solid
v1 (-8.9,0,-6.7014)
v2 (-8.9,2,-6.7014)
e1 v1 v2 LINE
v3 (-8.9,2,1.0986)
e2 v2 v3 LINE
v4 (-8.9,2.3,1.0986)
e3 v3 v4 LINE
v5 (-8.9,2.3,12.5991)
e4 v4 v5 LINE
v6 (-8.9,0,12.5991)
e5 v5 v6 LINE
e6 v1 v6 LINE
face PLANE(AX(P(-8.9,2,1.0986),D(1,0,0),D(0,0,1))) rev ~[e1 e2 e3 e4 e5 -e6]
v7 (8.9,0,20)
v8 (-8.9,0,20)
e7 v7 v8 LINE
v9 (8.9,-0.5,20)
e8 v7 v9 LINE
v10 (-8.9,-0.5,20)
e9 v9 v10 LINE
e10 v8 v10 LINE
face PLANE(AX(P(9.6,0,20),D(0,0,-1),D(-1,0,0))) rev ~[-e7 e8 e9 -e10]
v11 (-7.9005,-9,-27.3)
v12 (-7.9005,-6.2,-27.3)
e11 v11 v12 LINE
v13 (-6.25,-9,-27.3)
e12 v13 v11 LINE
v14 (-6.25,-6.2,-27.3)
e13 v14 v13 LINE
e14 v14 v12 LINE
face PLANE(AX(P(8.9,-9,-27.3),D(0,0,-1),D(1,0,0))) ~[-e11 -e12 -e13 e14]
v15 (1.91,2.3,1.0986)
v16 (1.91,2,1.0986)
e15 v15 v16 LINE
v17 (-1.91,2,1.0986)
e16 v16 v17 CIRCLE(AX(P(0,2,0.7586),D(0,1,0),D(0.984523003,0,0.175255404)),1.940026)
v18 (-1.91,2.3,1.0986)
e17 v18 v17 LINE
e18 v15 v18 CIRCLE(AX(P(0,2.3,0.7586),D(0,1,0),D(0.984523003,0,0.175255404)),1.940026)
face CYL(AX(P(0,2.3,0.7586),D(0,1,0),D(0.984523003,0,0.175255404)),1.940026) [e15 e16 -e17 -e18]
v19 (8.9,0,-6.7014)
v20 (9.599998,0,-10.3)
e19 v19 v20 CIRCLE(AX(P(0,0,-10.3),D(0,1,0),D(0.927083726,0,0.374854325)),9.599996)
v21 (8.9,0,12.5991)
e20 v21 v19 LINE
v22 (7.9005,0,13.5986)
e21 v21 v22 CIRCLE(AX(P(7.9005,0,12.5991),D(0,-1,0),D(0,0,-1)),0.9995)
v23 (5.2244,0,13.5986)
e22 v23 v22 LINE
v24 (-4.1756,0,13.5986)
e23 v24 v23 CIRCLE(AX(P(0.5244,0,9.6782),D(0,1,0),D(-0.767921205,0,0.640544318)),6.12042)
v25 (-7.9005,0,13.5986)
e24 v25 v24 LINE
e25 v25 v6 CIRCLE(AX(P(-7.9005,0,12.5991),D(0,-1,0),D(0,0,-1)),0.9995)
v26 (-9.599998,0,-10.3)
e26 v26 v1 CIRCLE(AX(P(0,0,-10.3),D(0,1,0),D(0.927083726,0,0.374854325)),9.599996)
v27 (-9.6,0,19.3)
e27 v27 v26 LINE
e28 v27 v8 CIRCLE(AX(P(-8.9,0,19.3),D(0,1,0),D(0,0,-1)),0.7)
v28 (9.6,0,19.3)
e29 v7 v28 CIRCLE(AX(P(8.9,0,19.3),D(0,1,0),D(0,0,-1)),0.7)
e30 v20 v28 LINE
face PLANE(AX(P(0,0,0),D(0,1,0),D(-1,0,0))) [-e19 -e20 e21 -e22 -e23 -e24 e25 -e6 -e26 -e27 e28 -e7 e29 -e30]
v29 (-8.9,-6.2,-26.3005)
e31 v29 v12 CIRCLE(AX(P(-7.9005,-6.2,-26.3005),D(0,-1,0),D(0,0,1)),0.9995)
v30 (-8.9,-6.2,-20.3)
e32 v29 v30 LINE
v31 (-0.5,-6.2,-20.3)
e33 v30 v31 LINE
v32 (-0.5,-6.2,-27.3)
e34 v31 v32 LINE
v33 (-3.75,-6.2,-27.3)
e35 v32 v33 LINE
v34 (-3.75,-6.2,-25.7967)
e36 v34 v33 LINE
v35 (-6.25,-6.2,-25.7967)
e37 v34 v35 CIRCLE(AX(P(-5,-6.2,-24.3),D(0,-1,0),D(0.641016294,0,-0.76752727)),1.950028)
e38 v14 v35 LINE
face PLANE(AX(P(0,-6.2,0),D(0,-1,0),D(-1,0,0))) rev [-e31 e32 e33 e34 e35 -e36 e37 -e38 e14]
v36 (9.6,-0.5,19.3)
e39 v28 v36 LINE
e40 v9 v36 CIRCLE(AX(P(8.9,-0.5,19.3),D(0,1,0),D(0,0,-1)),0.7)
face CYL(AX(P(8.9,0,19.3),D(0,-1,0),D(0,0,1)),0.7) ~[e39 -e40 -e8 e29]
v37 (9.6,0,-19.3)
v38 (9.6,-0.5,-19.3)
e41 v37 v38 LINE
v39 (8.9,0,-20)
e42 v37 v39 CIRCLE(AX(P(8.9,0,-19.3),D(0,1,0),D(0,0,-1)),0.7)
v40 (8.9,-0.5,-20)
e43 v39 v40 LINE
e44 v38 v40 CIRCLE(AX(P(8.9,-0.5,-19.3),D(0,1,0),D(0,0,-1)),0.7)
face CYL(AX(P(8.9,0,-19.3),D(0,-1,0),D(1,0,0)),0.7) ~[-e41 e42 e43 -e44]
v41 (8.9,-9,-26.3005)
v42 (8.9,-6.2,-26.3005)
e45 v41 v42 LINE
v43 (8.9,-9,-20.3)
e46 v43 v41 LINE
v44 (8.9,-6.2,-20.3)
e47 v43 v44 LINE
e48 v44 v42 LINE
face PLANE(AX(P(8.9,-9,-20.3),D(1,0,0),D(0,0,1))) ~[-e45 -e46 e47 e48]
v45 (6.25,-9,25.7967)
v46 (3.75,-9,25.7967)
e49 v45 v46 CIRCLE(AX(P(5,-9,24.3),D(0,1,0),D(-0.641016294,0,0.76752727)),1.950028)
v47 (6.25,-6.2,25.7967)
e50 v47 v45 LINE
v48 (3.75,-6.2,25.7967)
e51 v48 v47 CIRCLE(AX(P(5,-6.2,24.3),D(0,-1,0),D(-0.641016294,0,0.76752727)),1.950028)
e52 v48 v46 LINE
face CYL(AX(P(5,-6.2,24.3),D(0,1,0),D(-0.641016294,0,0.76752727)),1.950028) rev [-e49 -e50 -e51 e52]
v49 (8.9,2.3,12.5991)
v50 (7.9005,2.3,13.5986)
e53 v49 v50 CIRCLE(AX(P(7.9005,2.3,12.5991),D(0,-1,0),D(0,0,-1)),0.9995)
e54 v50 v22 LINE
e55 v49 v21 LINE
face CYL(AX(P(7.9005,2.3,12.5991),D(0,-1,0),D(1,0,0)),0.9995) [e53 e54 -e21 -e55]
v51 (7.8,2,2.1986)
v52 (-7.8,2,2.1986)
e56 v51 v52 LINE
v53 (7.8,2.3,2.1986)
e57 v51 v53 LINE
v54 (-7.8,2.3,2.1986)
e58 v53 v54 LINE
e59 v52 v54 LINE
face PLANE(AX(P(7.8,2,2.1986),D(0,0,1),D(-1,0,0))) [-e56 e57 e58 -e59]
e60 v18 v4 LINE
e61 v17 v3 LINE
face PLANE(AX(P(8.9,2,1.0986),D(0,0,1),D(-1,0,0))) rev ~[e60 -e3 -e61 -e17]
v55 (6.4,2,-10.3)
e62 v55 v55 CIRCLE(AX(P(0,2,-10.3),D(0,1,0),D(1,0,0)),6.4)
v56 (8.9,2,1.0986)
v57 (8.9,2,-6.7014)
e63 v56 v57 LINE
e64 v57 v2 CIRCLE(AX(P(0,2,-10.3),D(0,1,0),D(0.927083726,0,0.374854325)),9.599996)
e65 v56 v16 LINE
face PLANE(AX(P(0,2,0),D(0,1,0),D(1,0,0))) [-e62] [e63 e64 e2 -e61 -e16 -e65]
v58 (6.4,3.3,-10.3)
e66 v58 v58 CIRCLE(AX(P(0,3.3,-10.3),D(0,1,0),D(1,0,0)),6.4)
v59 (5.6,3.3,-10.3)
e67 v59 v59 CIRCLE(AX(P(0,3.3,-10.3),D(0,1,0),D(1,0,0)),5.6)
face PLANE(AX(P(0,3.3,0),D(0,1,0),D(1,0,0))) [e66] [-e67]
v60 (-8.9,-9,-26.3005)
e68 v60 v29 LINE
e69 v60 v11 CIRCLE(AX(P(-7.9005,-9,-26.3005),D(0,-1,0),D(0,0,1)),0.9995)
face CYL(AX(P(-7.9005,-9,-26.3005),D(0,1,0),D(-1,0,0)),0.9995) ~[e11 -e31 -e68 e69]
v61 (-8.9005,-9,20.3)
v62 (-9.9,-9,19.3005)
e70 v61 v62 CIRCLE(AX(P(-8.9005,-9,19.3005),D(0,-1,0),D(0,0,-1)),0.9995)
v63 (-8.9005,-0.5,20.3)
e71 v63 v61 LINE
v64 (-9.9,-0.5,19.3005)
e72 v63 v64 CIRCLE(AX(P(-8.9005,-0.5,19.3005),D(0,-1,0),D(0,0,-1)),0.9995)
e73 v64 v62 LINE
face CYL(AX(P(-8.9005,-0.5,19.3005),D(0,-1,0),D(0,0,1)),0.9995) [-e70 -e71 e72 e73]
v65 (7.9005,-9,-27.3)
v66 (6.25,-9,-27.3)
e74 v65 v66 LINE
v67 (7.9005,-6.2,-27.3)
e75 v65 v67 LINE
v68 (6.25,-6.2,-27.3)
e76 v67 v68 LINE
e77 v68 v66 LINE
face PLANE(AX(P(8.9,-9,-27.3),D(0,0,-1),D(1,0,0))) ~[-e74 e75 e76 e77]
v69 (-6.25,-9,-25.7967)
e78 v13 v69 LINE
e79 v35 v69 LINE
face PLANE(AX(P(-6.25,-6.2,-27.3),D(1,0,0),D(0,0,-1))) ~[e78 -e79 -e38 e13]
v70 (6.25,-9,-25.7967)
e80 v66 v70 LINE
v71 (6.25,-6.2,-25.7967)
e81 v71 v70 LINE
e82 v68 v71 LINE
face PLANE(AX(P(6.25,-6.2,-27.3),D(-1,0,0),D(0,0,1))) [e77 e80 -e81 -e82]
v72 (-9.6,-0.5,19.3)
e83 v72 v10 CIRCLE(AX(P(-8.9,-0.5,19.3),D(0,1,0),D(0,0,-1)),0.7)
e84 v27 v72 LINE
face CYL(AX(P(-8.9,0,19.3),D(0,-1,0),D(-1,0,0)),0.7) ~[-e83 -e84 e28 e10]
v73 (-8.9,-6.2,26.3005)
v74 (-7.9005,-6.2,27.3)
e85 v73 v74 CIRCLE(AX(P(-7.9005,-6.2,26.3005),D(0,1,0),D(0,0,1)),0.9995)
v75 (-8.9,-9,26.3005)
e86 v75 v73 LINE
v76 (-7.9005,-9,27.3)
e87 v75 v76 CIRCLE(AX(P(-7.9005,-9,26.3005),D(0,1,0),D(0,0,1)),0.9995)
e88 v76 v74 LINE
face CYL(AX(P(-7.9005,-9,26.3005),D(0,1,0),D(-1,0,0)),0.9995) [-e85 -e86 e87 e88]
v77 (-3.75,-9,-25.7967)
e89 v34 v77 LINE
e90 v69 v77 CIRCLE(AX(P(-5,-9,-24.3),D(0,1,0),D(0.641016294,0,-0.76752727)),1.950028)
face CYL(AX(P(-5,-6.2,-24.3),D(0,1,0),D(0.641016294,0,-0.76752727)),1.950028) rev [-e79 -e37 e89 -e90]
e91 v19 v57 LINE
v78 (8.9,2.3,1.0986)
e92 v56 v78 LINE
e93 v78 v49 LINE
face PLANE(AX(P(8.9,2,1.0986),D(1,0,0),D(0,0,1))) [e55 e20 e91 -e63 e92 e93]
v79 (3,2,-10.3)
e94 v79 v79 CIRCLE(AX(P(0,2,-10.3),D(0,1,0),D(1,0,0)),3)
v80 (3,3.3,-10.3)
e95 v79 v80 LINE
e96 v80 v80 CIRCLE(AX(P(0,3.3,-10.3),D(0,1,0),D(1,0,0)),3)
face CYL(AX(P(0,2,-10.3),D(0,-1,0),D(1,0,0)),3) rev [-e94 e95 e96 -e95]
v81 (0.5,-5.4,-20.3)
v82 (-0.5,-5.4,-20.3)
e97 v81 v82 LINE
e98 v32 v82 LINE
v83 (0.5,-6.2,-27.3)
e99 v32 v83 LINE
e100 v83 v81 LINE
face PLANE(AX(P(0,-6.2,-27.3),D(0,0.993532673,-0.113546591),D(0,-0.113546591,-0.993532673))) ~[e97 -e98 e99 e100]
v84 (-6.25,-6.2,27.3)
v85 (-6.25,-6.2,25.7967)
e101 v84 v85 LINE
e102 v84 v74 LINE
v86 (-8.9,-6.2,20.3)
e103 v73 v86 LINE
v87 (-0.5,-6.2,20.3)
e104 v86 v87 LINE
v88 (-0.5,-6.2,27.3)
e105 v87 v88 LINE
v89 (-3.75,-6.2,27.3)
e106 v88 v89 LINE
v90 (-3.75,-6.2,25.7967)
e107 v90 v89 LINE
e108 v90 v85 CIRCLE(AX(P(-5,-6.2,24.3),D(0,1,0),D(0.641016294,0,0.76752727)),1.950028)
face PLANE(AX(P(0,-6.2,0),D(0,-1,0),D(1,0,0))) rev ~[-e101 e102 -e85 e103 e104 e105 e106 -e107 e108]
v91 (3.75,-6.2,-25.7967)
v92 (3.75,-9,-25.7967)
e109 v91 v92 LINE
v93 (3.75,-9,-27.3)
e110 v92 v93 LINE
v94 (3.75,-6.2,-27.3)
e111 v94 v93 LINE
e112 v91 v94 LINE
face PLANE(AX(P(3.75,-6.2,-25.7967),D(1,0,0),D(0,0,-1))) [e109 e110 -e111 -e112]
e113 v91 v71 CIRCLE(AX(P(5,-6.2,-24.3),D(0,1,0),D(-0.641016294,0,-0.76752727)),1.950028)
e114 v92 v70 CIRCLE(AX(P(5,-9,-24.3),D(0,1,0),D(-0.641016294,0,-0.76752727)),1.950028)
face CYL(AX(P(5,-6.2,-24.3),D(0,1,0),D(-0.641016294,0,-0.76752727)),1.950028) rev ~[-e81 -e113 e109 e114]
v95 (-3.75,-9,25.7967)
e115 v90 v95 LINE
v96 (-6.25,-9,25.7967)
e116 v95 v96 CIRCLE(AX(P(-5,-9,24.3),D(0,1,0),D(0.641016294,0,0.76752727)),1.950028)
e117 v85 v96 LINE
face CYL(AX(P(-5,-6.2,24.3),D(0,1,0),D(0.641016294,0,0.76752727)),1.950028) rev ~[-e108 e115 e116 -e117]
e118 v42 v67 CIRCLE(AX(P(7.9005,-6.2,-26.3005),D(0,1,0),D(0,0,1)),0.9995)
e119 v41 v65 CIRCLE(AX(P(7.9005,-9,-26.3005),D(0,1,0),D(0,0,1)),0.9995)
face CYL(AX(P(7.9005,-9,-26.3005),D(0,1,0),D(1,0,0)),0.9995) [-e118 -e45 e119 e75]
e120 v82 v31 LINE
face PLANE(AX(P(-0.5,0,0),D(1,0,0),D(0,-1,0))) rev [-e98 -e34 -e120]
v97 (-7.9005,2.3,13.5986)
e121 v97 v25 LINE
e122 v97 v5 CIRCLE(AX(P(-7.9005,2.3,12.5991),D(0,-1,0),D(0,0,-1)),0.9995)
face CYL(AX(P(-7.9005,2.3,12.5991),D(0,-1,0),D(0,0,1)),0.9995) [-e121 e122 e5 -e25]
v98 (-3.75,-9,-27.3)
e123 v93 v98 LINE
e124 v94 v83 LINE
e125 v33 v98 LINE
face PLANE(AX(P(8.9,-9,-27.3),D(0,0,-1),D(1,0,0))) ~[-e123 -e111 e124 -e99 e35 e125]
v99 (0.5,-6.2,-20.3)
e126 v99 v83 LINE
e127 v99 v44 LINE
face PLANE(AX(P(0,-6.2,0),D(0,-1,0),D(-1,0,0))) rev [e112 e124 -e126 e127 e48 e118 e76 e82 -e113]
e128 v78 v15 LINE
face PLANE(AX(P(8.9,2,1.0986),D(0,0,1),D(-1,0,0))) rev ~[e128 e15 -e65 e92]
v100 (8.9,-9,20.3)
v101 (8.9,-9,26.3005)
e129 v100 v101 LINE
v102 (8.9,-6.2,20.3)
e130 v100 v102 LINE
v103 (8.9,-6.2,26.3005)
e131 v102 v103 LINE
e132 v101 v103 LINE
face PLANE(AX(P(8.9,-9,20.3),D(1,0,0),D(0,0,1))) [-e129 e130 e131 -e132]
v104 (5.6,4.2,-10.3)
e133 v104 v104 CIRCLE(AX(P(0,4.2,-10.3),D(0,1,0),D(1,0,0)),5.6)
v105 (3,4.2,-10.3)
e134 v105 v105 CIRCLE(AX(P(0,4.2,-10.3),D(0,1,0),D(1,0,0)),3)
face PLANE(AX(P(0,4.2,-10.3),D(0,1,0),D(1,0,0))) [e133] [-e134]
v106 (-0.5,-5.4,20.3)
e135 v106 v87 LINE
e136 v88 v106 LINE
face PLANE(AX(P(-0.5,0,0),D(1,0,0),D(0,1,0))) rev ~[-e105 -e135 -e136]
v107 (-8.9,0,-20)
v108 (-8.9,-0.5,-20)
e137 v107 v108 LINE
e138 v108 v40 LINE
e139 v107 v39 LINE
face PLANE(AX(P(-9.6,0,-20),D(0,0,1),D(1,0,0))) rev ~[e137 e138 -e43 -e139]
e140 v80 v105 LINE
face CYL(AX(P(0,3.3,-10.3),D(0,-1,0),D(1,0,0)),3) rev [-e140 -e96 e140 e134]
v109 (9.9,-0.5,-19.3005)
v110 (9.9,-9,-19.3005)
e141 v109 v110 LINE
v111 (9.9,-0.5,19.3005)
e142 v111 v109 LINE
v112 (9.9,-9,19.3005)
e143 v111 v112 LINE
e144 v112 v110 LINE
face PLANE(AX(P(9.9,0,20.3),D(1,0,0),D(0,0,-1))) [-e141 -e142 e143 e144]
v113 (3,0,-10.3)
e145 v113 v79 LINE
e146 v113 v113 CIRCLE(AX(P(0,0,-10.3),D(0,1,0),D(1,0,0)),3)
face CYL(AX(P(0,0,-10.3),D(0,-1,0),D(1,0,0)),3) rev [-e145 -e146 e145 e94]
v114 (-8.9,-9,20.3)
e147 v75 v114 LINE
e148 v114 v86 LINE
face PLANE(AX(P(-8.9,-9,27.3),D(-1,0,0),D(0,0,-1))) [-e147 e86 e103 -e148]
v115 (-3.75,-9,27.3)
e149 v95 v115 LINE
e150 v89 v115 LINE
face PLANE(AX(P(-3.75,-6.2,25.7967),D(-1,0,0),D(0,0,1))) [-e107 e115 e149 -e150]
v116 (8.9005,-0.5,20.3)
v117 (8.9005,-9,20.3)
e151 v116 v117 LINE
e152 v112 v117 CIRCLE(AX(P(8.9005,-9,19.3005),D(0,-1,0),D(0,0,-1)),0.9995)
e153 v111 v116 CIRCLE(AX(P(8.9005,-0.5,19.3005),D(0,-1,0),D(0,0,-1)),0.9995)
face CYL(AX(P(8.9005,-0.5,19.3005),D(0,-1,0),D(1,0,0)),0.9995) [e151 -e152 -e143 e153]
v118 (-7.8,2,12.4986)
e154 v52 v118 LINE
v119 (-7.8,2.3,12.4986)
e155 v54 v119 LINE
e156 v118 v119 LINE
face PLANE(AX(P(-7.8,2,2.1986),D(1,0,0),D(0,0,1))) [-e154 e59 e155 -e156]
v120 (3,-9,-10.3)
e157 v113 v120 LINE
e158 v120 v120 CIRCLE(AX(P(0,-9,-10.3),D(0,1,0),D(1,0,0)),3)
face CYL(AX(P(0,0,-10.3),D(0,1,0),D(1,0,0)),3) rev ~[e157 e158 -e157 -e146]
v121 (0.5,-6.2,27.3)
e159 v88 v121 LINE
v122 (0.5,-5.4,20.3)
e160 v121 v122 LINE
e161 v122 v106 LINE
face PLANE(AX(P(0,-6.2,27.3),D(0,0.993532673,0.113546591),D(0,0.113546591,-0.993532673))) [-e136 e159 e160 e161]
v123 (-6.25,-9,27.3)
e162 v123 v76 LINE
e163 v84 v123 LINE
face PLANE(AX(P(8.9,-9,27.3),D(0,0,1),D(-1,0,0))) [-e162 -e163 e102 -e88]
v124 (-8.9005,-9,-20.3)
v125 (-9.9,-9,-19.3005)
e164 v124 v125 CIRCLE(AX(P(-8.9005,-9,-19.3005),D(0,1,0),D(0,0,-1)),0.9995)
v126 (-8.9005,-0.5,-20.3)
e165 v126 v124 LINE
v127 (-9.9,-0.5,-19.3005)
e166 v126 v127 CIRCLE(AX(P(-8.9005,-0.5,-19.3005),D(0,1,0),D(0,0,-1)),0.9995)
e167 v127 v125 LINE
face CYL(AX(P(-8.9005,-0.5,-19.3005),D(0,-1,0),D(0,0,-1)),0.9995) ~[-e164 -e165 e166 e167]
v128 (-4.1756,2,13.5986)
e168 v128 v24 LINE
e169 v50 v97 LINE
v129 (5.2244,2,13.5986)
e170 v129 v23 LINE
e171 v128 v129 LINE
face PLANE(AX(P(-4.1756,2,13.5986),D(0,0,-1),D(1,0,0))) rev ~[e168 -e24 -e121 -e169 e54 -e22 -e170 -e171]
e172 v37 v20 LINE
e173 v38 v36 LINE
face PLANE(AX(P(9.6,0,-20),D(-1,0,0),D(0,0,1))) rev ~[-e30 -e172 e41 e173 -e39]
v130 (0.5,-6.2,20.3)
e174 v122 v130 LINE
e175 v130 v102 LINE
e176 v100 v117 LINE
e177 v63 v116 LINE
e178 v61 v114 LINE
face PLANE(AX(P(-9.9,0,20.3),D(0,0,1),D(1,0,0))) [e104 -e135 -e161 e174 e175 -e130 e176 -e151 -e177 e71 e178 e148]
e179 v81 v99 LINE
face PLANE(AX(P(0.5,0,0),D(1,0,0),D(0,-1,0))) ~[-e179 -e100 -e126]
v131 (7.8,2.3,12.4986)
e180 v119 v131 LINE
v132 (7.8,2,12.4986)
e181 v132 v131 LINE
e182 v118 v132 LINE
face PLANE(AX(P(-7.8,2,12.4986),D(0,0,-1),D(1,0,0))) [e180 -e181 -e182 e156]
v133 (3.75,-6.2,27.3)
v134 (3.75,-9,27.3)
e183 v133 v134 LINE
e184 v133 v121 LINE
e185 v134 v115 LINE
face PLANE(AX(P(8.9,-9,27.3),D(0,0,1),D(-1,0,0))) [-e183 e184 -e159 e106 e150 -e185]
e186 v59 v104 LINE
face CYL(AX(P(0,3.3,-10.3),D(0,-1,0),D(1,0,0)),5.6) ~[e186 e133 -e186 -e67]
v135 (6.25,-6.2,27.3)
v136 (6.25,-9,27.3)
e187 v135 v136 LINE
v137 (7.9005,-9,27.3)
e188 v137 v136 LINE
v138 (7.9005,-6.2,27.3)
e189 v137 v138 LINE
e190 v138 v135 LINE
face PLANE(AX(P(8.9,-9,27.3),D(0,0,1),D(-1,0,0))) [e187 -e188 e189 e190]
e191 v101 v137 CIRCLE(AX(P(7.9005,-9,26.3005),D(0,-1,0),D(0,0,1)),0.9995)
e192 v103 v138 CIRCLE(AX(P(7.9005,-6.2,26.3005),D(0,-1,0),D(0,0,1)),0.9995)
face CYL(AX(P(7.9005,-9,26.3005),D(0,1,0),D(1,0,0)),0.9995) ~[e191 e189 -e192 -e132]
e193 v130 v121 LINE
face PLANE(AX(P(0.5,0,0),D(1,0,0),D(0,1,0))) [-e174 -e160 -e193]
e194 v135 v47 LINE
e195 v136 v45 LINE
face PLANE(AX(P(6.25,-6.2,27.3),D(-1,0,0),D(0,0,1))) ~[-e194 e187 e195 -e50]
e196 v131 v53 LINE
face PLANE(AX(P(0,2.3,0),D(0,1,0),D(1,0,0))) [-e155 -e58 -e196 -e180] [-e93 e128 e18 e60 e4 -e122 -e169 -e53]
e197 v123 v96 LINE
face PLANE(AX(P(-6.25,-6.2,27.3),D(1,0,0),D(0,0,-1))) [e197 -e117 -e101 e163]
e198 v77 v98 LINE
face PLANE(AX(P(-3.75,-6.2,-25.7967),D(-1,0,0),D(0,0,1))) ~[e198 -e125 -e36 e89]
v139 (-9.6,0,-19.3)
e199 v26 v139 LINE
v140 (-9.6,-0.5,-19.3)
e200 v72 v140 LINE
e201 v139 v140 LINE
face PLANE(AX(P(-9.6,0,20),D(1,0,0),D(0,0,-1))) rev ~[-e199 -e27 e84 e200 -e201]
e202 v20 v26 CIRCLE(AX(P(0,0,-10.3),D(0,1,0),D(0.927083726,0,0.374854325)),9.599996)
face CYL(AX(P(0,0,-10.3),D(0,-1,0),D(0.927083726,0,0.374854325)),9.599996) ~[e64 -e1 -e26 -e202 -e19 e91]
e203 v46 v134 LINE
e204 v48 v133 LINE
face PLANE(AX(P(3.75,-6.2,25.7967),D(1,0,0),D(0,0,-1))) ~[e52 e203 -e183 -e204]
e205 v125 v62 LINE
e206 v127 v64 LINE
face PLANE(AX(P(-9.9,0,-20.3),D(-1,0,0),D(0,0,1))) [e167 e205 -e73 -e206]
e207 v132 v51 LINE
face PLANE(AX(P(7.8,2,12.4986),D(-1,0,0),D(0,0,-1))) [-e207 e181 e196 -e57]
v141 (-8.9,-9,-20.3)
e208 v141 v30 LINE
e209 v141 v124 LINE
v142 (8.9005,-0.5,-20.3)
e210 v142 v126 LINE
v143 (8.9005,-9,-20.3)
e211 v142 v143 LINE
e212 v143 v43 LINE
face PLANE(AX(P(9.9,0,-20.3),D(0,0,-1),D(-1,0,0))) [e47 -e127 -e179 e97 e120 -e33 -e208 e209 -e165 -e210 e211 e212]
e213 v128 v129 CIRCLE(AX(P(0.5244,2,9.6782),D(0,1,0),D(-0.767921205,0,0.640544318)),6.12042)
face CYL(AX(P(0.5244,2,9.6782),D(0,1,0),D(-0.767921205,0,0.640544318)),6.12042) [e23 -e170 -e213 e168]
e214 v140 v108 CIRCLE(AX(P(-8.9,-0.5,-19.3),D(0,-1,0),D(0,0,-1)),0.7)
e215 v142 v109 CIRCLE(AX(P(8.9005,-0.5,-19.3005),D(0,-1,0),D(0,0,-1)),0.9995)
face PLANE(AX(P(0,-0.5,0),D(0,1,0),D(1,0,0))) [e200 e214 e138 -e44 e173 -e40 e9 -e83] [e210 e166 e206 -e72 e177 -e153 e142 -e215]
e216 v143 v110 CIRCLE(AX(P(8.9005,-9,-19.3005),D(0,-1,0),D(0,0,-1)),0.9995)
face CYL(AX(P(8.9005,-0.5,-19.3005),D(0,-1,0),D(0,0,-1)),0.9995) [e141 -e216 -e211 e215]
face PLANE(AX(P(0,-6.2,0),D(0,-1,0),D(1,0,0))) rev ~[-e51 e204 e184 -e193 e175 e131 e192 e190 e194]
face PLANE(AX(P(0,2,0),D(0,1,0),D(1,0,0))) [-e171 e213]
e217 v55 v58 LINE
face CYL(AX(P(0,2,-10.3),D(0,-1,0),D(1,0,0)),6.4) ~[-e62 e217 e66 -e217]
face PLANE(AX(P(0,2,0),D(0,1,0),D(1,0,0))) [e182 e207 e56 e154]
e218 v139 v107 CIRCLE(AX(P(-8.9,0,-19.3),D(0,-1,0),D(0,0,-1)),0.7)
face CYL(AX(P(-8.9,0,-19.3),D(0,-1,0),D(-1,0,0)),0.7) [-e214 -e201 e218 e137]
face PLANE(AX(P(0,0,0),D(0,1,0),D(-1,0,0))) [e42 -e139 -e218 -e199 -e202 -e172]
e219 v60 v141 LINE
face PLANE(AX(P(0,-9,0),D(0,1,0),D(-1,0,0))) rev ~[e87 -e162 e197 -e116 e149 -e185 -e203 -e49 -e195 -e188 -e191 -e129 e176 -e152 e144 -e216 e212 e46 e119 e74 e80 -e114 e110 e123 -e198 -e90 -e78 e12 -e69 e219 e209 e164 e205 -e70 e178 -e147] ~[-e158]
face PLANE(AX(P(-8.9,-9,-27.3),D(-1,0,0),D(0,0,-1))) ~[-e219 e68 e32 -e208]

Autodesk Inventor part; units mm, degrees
ref_plane "YZ Plane" through (0, 0, 0) normal (1, 0, 0) x (0, 1, 0)
ref_plane "XZ Plane" through (0, 0, 0) normal (0, 1, 0) x (-1, 0, 0)
ref_plane "XY Plane" through (0, 0, 0) normal (0, 0, 1) x (1, 0, 0)
sketch "Boceto1" plane through (0, 0, 0) normal (0, 1, 0) x (-1, 0, 0)
  line L0 (9.9, 20.3) -> (-9.9, 20.3)
  line L1 (-9.9, 20.3) -> (-9.9, -20.3)
  line L2 (-9.9, -20.3) -> (9.9, -20.3)
  line L3 (9.9, -20.3) -> (9.9, 20.3)
  line L4 (9.9, 20.3) -> (-9.9, -20.3) construction
  line L5 (-9.9, 20.3) -> (9.9, -20.3) construction
  point P0 (0, 0)
  dimension "d0" = 19.8
  dimension "d1" = 40.6
extrude "Extrusión1" add sketch "Boceto1" against normal blind 9
sketch "Boceto2" plane through (0, 0, 0) normal (0, 1, 0) x (1, 0, 0)
  circle A0 centre (0, 10.3) radius 3
  line L0 (9.9, 20.3) -> (-9.9, 20.3) projected
  point P0 (0, 0)
  dimension "d4" = 6
  dimension "d5" = 10
extrude "Extrusión2" cut sketch "Boceto2" against normal through all
sketch "Boceto5" plane through (0, -9, 0) normal (0, -1, 0) x (1, 0, 0)
  line L0 (-8.9, 20.3) -> (8.9, 20.3)
  line L1 (8.9, 20.3) -> (8.9, 27.3)
  line L2 (8.9, 27.3) -> (-8.9, 27.3)
  line L3 (-8.9, 27.3) -> (-8.9, 20.3)
  line L4 (-8.9, 20.3) -> (8.9, 27.3) construction
  line L5 (8.9, 20.3) -> (-8.9, 27.3) construction
  line L6 (-9.9, 27.3) -> (9.9, 27.3)
  line L7 (9.9, 20.3) -> (-9.9, 20.3) projected
  point P0 (0, 0)
  point P1 (0, 0)
  point P2 (0, 23.8)
  dimension "d23" = 17.8
  dimension "d24" = 7
extrude "Extrusión5" add sketch "Boceto5" against normal blind 2.8
sketch "Boceto6" plane through (0, -6.2, 0) normal (0, 1, 0) x (1, 0, 0)
  arc A0 (-3.75, -25.7967) -> (-6.25, -25.7967) centre (-5, -24.3) ccw
  line L0 (-8.9, -27.3) -> (8.9, -27.3)
  line L1 (-3.75, -27.3) -> (-6.25, -27.3)
  line L2 (-6.25, -27.3) -> (-6.25, -25.7967)
  line L3 (-3.75, -25.7967) -> (-3.75, -27.3)
  line L4 (0, -27.3) -> (0, -23.9124)
  line L5 (-8.9, -20.3) -> (-8.9, -27.3)
  line L6 (-8.9, -20.3) -> (8.9, -20.3) projected
  line L7 (-8.3229, -20.3) -> (8.9, -20.3)
  line L8 (8.9, -20.3) -> (8.9, -27.3)
  point P0 (0, 0)
  point P1 (0, 0)
  dimension "d27" = 3.9
  dimension "d28" = 3
  dimension "d29" = 5
  dimension "d75" = 1.25
  dimension "d76" = 1.25
extrude "Extrusión6" cut sketch "Boceto6" against normal through all contours L3 L0 L2 A0
sketch "Boceto8" plane through (0, 0, 0) normal (1, 0, 0) x (0, 1, 0)
  line L0 (-6.2, 27.3) -> (-5.4, 20.3)
  line L1 (-5.4, 20.3) -> (-6.2, 20.3)
  line L2 (-6.2, 20.3) -> (-6.2, 27.3)
  point P0 (0, 0)
  dimension "d34" = 0.8
extrude "Extrusión7" add sketch "Boceto8" along normal mid plane 1
mirror "Simetría3" about plane through (0, 0, 0) normal (1, 0, 0) of "Extrusión6"
mirror "Simetría4" about plane through (0, 0, 0) normal (0, 0, 1) of "Extrusión5", "Extrusión6", "Simetría3", "Extrusión7"
sketch "Boceto9" plane through (0, 0, 0) normal (0, 1, 0) x (1, 0, 0)
  circle A0 centre (0, 10.3) radius 3 projected
  line L0 (-8.9, -13.5986) -> (8.9, -13.5986)
  line L1 (8.9, -13.5986) -> (8.9, 6.7014)
  line L2 (-8.9, 6.7014) -> (-8.9, -13.5986)
  line L3 (-8.9, -13.5986) -> (5.885, 8.9919) construction
  line L4 (8.9, -13.5986) -> (-5.885, 8.9919) construction
  arc A1 (8.9, 6.7014) -> (-8.9, 6.7014) centre (0, 10.3) ccw
  line L5 (9.9, 20.3) -> (-9.9, 20.3) projected
  point P0 (0, 0)
  dimension "d40" = 9.6
  dimension "d42" = 20.3
  dimension "d61" = 17.8
extrude "Extrusión8" add sketch "Boceto9" along normal blind 2
sketch "Boceto11" plane through (0, 2, 0) normal (0, 1, 0) x (1, 0, 0)
  line L0 (-8.9, -13.5986) -> (8.9, -13.5986) projected
  line L1 (5.2244, -15.7986) -> (5.2244, -13.5986)
  arc A0 (-4.1756, -13.5986) -> (5.2244, -13.5986) centre (0.5244, -9.6782) ccw
  line L2 (-4.1756, -13.5986) -> (5.2244, -13.5986)
  point P0 (0, 0)
  dimension "d50" = 2.2
  dimension "d51" = 9.4
extrude "Extrusión9" add sketch "Boceto11" against normal blind 2
sketch "Boceto12" plane through (0, 2, 0) normal (0, 1, 0) x (1, 0, 0)
  circle A0 centre (0, 10.3) radius 6.4
  circle A1 centre (0, 10.3) radius 3 projected
  point P0 (0, 0)
  dimension "d54" = 12.8
extrude "Extrusión10" add sketch "Boceto12" along normal blind 1.3
sketch "Boceto13" plane through (0, 3.3, -10.3) normal (0, 1, 0) x (1, 0, 0)
  circle A0 centre (0, 0) radius 5.6
  circle A1 centre (0, 0) radius 3 projected
  point P0 (0, -10.3)
  dimension "d57" = 11.2
extrude "Extrusión11" add sketch "Boceto13" along normal blind 0.9
sketch "Boceto15" plane through (0, 2, 0) normal (0, 1, 0) x (1, 0, 0)
  line L0 (8.9, 6.7014) -> (8.9, -13.5986) projected
  line L1 (-8.9, -13.5986) -> (8.9, -13.5986)
  line L2 (8.9, -13.5986) -> (8.9, -1.0986)
  line L3 (8.9, -1.0986) -> (-8.9, -1.0986)
  line L4 (-8.9, -1.0986) -> (-8.9, -13.5986)
  line L5 (-8.9, -13.5986) -> (8.9, -1.0986) construction
  line L6 (8.9, -13.5986) -> (-8.9, -1.0986) construction
  line L7 (-8.9, -13.5986) -> (-4.1756, -13.5986) projected
  line L8 (-7.8, -12.4986) -> (7.8, -12.4986)
  line L9 (7.8, -12.4986) -> (7.8, -2.1986)
  line L10 (7.8, -2.1986) -> (-7.8, -2.1986)
  line L11 (-7.8, -2.1986) -> (-7.8, -12.4986)
  point P0 (0, 0)
  point P1 (0, -7.3486)
  dimension "d62" = 12.5
  dimension "d63" = 1.1
extrude "Extrusión12" add sketch "Boceto15" along normal blind 0.3
sketch "Boceto16" plane through (0, 2.3, 0) normal (0, 1, 0) x (1, 0, 0)
  arc A0 (1.91, -1.0986) -> (-1.91, -1.0986) centre (0, -0.7586) ccw
  line L0 (-7.8, -2.1986) -> (7.8, -2.1986) projected
  line L1 (8.9, -1.0986) -> (-8.9, -1.0986) projected
  point P0 (0, 0)
  dimension "d66" = 3.88
  dimension "d67" = 1.44
extrude "Extrusión13" add sketch "Boceto16" against normal blind 0.3
sketch "Boceto17" plane through (0, 0, 0) normal (0, 1, 0) x (1, 0, 0)
  line L0 (-9.9, 20.3) -> (-9.9, -20.3) projected
  line L1 (9.9, -20.3) -> (9.9, 20.3) projected
  line L2 (-9.9, -20.3) -> (9.9, -20.3) projected
  line L3 (9.9, 20.3) -> (-9.9, 20.3) projected
  line L4 (-9.6, -20) -> (-9.6, 20)
  line L5 (-9.6, 20) -> (9.6, 20)
  line L6 (9.6, 20) -> (9.6, -20)
  line L7 (9.6, -20) -> (-9.6, -20)
  point P0 (0, 0)
  dimension "d70" = 0.3
extrude "Extrusión14" cut sketch "Boceto17" against normal blind 0.5
fillet "Empalme1" radius 1 10 edges at (9.9, -4.75, 20.3) (8.9, -7.6, 27.3) (-8.9, -7.6, 27.3) (-9.9, -4.75, 20.3) (8.9, 1.15, 13.5986) (-8.9, 1.15, 13.5986) (9.9, -4.75, -20.3) (-9.9, -4.75, -20.3) (-8.9, -7.6, -27.3) (8.9, -7.6, -27.3)
fillet "Empalme2" radius 0.7 4 edges at (9.6, -0.25, 20) (-9.6, -0.25, 20) (9.6, -0.25, -20) (-9.6, -0.25, -20)
sketch "Boceto18" plane through (0, 2, 0) normal (0, 1, 0) x (1, 0, 0)
  point P0 (0, 0)
equation "\"d76\" = d75"
properties part number "Top" material "Plástico ABS"
